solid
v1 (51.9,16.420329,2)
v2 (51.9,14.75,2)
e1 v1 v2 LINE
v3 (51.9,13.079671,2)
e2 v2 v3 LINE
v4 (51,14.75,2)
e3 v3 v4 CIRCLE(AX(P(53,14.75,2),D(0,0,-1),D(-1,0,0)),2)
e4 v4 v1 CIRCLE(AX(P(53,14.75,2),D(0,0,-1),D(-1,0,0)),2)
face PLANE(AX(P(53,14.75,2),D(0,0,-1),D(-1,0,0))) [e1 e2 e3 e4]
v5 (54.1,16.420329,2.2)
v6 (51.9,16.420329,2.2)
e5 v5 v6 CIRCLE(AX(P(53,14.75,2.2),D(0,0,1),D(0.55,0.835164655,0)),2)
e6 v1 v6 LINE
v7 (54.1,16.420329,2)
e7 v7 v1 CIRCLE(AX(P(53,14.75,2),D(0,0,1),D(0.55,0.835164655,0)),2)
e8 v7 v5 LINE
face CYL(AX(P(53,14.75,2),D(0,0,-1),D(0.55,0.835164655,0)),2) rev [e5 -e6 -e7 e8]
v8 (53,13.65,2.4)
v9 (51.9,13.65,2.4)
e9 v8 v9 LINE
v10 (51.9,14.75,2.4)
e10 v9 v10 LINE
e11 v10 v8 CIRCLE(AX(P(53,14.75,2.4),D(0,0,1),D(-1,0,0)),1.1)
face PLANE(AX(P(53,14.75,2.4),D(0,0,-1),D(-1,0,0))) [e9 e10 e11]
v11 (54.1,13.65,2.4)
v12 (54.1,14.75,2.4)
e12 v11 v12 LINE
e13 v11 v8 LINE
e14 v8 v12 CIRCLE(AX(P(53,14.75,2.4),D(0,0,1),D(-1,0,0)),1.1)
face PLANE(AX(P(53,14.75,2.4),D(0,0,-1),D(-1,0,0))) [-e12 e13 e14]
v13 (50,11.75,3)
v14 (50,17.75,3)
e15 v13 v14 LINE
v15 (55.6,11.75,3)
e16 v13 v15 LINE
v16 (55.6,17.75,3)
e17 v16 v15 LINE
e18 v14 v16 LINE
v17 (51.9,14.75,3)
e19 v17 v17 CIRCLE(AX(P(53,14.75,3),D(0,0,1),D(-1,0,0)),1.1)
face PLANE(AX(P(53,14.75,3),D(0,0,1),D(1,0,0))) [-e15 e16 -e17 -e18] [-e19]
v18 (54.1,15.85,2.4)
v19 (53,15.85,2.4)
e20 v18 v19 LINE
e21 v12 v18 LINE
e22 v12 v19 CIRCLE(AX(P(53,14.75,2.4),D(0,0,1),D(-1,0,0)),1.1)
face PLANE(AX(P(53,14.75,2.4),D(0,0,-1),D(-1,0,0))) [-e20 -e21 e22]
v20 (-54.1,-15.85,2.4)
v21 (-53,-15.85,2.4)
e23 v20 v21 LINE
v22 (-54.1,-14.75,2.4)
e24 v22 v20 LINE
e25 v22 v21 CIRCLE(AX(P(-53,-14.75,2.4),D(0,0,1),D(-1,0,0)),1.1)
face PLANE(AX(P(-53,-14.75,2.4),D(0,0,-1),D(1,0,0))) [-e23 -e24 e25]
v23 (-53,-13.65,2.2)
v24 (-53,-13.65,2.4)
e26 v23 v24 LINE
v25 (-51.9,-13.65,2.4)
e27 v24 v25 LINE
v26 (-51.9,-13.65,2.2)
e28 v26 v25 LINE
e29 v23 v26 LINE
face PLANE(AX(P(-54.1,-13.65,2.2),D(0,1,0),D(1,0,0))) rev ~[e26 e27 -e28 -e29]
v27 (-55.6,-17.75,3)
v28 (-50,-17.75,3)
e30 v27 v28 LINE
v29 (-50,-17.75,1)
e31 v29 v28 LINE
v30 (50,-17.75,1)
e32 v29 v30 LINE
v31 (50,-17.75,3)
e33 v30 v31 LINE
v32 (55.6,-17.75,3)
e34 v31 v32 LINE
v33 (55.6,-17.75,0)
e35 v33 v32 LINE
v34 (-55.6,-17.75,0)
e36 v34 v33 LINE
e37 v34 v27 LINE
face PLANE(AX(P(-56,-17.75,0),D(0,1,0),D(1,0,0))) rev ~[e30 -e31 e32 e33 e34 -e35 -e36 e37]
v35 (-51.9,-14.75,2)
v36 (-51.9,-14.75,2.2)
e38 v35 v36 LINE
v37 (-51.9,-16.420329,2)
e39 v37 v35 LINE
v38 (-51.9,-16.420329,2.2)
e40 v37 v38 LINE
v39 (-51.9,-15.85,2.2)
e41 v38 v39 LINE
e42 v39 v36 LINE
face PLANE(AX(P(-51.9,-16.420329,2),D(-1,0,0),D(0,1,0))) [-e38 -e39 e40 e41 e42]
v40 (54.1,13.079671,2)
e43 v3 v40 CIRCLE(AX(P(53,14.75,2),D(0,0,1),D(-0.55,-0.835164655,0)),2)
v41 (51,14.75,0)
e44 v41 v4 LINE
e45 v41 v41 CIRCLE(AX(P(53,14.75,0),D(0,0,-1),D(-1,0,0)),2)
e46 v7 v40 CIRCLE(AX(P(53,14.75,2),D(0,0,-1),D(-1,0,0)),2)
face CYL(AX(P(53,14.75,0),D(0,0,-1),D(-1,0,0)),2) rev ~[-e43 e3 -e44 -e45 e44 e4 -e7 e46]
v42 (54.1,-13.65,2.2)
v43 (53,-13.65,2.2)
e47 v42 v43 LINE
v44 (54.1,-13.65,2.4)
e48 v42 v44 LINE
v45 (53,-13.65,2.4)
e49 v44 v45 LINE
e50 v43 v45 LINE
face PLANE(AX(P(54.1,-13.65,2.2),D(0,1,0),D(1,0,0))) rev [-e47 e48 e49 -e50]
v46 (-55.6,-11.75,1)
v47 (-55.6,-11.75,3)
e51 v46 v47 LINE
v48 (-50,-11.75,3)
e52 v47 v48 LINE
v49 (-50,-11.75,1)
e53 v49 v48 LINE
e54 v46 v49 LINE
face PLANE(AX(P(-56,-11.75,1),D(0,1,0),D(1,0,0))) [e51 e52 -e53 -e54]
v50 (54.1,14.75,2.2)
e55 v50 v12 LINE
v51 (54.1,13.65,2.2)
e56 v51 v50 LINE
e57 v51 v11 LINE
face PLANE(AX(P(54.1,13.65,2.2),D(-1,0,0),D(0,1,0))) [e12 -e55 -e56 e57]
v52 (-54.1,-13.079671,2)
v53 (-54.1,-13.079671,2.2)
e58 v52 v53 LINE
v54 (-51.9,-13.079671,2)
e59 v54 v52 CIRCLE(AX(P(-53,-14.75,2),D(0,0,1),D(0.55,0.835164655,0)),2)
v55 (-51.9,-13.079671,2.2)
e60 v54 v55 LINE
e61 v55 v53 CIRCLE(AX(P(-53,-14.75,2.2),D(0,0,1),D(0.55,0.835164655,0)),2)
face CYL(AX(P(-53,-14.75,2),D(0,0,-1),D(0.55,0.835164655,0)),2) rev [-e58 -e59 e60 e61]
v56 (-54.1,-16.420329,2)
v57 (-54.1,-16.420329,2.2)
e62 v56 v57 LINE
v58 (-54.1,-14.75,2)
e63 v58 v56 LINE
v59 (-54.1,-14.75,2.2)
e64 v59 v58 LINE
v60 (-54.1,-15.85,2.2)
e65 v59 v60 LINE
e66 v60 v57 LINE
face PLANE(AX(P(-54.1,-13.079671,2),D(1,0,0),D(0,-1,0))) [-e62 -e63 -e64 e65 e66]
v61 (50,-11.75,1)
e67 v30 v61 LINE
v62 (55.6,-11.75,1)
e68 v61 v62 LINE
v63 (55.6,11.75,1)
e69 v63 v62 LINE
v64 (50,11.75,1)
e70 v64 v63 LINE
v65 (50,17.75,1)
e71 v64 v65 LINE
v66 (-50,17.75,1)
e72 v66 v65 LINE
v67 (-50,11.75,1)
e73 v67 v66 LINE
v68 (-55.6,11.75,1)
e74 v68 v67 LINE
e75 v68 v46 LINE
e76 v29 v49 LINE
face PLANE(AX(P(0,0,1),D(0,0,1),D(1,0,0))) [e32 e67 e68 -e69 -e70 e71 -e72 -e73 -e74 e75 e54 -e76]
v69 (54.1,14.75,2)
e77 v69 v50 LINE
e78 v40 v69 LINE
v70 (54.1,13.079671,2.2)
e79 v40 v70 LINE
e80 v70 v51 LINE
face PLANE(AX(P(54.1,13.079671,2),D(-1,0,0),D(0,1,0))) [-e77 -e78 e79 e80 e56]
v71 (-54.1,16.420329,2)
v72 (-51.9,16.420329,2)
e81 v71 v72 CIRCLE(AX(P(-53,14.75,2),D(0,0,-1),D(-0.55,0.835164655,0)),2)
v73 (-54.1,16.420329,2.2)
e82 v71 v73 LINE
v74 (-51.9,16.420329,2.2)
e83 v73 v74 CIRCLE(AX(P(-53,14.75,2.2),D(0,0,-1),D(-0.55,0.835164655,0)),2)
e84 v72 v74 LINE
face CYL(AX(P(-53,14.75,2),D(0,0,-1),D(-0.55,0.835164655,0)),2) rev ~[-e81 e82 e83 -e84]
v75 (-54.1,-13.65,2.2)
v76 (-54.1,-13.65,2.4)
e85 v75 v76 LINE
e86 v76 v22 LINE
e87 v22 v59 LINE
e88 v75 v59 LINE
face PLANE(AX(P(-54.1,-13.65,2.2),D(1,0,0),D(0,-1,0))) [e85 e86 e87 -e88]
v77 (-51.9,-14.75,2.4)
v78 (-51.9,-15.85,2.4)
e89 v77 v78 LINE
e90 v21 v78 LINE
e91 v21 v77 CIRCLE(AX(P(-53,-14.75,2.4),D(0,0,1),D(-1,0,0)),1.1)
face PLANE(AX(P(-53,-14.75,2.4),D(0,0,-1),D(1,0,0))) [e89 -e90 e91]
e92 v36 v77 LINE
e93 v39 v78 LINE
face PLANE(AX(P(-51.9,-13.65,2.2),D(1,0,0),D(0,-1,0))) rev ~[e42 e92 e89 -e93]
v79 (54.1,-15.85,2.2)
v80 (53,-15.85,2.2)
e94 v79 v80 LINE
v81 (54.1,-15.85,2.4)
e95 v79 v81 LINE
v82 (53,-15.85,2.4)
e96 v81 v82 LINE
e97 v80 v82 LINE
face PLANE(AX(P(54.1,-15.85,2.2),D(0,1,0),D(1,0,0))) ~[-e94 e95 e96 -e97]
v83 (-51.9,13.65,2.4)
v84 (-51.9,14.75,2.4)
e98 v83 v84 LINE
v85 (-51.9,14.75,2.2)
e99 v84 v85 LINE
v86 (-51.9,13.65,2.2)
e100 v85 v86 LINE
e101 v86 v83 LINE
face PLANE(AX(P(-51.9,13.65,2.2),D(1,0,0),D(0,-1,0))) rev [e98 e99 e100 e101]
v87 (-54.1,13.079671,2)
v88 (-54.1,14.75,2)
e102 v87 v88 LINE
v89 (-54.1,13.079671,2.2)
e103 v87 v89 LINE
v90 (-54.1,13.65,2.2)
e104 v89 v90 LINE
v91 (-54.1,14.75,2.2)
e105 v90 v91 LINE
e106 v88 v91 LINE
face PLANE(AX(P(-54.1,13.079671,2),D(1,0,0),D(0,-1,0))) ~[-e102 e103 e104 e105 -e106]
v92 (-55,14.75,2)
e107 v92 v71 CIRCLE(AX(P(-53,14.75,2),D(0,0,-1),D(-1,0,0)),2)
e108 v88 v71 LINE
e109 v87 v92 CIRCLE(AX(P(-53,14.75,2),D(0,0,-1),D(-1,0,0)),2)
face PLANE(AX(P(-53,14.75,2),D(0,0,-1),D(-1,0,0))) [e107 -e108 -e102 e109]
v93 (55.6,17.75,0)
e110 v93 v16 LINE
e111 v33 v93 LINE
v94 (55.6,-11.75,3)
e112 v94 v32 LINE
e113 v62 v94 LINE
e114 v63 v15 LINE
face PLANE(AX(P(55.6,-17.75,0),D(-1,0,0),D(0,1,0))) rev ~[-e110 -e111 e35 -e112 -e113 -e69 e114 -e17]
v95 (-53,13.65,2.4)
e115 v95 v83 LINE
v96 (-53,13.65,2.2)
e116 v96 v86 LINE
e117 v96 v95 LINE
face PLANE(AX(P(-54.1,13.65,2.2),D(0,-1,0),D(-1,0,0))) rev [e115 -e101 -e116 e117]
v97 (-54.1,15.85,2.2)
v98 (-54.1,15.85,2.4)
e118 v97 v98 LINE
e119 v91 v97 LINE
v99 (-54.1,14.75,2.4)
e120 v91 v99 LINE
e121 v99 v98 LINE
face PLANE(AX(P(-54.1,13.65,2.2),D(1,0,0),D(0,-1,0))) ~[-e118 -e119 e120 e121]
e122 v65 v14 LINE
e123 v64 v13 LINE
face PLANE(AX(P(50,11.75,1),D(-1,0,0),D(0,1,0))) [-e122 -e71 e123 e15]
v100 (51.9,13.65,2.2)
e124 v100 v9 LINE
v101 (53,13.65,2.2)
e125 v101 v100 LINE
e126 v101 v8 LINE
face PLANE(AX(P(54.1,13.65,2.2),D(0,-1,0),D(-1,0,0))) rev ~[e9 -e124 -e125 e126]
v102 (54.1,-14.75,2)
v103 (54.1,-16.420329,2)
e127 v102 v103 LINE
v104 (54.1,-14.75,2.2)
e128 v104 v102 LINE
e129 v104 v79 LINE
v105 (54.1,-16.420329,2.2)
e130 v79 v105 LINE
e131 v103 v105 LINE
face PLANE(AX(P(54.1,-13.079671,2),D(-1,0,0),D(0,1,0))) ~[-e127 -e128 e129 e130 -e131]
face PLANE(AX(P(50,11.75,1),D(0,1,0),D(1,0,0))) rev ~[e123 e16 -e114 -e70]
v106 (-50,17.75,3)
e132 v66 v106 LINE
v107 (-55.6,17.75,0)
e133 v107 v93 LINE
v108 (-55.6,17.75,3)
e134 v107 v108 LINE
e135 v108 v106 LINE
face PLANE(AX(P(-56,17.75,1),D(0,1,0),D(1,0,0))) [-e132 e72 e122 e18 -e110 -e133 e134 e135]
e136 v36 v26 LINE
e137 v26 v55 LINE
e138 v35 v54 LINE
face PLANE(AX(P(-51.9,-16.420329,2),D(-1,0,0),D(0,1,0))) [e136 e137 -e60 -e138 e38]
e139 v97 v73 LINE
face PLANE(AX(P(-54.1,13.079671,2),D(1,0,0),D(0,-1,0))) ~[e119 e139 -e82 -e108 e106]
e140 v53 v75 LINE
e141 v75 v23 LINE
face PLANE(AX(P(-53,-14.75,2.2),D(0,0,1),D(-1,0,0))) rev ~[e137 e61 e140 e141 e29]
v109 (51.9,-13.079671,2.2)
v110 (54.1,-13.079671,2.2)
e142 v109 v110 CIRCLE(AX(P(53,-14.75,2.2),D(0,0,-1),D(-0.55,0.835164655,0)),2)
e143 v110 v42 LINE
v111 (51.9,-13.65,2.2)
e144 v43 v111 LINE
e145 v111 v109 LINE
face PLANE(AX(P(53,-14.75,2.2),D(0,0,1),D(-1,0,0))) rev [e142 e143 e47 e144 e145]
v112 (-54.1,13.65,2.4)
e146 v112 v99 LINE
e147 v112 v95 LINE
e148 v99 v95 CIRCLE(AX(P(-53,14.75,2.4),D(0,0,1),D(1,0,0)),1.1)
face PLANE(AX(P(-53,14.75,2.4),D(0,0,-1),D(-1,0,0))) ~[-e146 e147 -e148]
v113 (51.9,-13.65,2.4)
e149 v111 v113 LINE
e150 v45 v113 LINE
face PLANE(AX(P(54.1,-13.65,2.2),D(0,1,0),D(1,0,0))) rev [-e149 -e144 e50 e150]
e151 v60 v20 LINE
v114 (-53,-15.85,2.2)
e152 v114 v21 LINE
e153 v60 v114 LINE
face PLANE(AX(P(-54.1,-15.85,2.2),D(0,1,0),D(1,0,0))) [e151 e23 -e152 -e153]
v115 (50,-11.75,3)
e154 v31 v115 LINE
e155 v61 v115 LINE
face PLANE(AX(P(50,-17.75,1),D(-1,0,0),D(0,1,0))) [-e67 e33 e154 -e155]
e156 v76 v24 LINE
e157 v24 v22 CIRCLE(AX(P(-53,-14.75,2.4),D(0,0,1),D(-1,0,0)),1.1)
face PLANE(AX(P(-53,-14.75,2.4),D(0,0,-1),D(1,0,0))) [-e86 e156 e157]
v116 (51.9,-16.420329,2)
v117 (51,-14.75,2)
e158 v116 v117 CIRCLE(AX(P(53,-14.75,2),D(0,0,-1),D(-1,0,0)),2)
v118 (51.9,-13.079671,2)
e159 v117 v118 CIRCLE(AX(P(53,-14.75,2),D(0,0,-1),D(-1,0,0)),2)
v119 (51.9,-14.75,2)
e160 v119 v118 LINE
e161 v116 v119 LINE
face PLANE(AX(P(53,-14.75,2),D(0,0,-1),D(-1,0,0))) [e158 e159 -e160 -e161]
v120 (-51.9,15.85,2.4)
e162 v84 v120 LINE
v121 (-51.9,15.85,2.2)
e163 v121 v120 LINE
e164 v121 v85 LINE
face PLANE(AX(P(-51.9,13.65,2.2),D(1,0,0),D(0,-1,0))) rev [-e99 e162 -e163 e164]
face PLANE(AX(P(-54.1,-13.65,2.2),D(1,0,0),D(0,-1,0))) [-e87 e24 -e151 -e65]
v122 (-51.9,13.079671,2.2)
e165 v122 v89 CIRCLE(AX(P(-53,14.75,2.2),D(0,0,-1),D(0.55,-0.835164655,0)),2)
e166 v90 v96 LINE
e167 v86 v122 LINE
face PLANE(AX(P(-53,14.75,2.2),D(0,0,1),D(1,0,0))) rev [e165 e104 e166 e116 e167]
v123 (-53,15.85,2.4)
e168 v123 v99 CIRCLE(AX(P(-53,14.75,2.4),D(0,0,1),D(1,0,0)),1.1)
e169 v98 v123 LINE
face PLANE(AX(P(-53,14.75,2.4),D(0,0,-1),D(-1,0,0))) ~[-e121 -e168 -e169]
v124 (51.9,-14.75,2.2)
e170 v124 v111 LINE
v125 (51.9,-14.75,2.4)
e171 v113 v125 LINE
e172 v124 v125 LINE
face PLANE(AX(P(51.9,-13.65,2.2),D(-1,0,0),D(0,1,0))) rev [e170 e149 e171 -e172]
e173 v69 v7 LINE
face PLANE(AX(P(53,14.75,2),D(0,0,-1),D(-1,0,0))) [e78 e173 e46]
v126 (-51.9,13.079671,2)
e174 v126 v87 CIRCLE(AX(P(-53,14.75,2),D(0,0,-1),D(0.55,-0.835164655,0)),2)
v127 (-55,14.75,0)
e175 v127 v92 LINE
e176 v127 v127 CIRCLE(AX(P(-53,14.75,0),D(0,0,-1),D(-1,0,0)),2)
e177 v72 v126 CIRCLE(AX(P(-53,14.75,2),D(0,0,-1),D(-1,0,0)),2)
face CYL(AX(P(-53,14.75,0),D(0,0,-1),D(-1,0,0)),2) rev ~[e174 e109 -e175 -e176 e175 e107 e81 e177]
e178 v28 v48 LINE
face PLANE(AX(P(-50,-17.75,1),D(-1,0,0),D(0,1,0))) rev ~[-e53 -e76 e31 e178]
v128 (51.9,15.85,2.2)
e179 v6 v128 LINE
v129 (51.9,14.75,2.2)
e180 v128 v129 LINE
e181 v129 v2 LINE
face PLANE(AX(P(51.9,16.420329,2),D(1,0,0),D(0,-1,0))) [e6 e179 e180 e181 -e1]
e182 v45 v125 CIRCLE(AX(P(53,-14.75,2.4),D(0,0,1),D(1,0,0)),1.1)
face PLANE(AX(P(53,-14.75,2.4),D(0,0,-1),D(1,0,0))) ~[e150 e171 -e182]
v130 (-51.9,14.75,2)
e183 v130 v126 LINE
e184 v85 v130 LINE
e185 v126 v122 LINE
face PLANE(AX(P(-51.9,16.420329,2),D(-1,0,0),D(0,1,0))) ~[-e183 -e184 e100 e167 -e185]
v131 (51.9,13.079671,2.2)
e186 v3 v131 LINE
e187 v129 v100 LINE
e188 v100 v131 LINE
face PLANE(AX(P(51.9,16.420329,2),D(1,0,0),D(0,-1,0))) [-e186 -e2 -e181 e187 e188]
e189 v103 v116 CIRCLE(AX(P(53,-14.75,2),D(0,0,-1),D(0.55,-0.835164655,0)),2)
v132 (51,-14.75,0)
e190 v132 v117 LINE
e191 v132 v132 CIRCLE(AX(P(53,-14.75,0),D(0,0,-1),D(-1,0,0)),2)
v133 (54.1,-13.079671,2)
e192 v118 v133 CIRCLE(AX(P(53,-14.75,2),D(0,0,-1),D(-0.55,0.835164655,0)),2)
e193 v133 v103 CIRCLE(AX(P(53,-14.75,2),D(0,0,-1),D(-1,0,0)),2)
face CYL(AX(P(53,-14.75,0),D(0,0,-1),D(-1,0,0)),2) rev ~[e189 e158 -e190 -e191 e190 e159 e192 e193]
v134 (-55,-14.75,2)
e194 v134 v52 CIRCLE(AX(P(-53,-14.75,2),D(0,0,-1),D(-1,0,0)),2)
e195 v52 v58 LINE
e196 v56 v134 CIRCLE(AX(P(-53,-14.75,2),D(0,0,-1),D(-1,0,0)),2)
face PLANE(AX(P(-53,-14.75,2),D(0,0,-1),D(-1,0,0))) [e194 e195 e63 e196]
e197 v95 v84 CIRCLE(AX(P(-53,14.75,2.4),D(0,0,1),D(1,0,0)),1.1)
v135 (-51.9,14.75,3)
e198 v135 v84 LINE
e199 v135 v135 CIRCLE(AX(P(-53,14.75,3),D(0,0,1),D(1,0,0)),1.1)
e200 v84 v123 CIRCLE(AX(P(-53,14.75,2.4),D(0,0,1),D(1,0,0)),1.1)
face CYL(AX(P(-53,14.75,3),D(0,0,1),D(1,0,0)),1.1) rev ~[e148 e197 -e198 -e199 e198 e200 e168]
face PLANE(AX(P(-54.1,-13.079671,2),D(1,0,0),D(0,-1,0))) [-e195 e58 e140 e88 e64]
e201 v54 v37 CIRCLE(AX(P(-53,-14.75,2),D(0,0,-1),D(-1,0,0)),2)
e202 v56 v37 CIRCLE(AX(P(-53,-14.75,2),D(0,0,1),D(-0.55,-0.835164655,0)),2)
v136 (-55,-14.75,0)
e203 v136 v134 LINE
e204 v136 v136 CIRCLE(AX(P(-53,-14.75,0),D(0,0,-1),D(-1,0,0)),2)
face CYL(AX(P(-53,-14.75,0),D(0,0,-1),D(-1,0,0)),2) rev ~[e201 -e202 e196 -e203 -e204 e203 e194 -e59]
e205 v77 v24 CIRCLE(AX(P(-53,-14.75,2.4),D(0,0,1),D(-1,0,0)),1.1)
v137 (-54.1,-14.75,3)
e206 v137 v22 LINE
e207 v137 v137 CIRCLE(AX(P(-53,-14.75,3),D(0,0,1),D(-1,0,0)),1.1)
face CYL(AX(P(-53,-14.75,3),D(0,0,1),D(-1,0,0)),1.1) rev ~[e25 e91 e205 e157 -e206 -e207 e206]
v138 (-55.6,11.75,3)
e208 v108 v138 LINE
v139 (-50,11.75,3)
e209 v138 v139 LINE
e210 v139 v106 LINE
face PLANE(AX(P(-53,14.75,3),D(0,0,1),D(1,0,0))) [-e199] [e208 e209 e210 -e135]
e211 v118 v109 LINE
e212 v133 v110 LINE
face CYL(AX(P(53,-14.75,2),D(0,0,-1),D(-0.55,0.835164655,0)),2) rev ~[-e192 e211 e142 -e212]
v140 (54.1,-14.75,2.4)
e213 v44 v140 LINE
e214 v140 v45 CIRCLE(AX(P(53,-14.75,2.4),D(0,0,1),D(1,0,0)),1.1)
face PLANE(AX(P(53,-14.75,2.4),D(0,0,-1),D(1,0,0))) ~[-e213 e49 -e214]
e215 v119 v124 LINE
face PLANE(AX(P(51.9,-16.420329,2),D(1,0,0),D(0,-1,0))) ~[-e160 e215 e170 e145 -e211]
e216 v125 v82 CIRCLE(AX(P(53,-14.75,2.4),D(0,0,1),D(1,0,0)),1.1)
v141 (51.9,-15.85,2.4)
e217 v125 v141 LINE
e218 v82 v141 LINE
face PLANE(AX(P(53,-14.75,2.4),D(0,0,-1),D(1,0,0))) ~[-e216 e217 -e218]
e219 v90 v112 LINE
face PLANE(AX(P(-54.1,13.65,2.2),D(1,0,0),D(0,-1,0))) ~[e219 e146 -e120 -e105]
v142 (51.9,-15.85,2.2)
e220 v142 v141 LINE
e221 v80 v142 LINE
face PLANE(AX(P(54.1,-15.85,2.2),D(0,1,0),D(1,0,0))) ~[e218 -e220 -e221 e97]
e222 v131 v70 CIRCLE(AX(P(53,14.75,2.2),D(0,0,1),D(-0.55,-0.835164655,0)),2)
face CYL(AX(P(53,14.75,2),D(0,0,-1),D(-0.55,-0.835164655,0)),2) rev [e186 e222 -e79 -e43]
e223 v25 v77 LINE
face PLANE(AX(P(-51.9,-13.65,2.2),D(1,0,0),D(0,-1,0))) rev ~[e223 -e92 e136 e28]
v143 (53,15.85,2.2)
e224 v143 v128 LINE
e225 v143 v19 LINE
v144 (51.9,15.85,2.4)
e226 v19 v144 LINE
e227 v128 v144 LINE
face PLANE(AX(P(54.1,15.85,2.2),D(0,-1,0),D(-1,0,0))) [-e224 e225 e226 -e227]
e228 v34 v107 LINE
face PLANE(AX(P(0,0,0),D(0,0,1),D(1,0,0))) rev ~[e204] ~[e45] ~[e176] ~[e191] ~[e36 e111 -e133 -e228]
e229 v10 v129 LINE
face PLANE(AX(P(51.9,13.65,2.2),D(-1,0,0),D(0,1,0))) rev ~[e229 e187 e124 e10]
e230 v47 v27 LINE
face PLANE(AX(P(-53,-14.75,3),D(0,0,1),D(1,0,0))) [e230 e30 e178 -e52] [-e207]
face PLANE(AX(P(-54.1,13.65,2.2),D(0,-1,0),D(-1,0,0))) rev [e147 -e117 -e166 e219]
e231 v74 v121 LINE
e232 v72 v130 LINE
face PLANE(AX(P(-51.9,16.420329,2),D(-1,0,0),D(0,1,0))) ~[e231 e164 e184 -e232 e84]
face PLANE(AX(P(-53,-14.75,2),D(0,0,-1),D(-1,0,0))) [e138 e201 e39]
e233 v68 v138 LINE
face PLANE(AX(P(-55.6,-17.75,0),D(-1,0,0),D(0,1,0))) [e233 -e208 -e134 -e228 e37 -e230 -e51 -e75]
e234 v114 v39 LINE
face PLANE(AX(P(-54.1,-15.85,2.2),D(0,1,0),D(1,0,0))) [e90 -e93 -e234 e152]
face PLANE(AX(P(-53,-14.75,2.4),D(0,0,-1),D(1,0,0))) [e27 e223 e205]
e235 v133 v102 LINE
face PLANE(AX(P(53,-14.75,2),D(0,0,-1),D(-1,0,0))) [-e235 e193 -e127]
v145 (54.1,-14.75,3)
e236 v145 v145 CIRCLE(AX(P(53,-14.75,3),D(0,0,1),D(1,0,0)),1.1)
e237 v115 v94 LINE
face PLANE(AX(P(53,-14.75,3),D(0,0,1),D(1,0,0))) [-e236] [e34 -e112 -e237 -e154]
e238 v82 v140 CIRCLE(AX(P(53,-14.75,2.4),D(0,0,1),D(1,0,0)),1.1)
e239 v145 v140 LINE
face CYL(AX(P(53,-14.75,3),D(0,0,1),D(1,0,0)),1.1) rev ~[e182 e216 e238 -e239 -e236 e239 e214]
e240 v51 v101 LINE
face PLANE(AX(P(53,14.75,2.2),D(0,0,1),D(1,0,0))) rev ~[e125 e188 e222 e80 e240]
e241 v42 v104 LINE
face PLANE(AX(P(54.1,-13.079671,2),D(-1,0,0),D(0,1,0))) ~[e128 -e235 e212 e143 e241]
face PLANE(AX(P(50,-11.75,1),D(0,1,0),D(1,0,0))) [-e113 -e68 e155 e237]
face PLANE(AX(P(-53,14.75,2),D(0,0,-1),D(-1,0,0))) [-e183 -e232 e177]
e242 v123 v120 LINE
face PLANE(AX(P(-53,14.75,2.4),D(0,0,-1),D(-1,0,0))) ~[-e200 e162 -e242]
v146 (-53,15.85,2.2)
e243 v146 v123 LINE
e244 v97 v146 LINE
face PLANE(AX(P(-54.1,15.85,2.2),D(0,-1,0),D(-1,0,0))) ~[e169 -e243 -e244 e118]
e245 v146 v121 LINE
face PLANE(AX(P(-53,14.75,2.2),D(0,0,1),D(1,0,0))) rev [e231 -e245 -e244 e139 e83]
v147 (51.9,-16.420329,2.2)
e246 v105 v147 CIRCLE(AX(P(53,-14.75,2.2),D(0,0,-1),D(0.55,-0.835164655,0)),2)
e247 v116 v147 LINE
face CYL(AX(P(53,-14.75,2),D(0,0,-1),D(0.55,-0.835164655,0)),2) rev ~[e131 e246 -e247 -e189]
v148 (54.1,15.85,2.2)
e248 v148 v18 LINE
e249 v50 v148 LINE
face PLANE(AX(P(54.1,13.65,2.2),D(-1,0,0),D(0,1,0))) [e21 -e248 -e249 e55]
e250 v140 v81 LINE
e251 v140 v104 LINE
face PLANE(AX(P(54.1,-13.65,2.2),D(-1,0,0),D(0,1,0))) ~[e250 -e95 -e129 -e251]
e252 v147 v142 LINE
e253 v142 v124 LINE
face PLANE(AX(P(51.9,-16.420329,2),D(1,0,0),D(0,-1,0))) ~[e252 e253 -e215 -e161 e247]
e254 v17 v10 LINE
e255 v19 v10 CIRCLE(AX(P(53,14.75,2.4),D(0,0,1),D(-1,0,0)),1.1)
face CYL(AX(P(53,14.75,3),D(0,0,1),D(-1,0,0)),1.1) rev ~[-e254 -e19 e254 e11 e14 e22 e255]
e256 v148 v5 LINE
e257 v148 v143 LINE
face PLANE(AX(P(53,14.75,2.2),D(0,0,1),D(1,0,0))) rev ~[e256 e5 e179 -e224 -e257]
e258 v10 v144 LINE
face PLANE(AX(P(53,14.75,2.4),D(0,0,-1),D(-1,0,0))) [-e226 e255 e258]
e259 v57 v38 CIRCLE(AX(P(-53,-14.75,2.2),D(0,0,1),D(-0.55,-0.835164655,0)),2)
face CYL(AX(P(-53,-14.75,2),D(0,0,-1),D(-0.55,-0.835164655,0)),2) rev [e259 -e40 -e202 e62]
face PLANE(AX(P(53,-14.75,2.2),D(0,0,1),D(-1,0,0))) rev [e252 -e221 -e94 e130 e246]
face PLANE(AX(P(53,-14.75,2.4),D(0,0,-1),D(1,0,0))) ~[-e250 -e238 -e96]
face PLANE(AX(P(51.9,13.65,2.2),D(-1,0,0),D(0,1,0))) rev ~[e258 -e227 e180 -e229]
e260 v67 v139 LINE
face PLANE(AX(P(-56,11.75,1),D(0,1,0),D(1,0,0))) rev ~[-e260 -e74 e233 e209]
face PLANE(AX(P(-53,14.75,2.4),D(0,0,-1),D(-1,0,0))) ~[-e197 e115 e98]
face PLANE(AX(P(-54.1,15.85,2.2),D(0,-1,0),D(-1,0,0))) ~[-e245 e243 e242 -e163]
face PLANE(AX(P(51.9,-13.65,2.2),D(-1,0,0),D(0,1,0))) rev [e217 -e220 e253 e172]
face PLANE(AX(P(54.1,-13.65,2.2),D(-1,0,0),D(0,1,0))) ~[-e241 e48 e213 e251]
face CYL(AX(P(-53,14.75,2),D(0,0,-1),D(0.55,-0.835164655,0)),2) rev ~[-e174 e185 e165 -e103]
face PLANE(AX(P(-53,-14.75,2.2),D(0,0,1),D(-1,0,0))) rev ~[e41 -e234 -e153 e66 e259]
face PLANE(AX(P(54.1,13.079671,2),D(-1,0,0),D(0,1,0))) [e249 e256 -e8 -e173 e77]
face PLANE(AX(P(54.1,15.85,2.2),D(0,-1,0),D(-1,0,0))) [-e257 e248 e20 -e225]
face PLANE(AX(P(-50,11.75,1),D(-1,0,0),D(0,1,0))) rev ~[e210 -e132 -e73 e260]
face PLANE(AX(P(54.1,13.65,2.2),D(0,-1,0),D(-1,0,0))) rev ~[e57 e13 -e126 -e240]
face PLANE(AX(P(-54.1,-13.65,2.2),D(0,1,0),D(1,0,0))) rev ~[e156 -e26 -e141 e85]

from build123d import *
from build123d.topology import SkipClean

# Parameters (mm, degrees)
SKETCH1_W               = 112
SKETCH1_H               = 35.5
BOSS_EXTRUDE1_DEPTH     = 1
SKETCH2_W               = 6
SKETCH2_H               = 6
BOSS_EXTRUDE2_DEPTH     = 2
SKETCH3_R               = 1.1
CUT_EXTRUDE1_DEPTH      = 59.822295943
SKETCH4_R               = 2
CUT_EXTRUDE2_DEPTH      = 2
CUT_EXTRUDE3_DEPTH      = 0.2
SKETCH6_W               = 2.2
SKETCH6_H               = 2.2
CUT_EXTRUDE4_DEPTH      = 0.2
MIRROR2_COPY_1_DEPTH    = 0.2
MIRROR2_COPY_2_SKETCH_W = 2.2
MIRROR2_COPY_2_SKETCH_H = 2.2
MIRROR2_COPY_2_DEPTH    = 0.2
SKETCH7_W               = 0.4
SKETCH7_H               = 35.5
CUT_EXTRUDE5_DEPTH      = 59.822295943


with BuildPart() as part:
    # Sketch1 → Boss-Extrude1 (new body)
    with BuildSketch(Plane.XY):
        Rectangle(SKETCH1_W, SKETCH1_H)
    extrude(amount=BOSS_EXTRUDE1_DEPTH)

    # Sketch2 → Boss-Extrude2 (add)
    with BuildSketch(Plane.XY.offset(1)):
        with Locations((-53, 14.75)):
            Rectangle(SKETCH2_W, SKETCH2_H)
        with Locations((-53, -14.75)):
            Rectangle(SKETCH2_W, SKETCH2_H)
        with Locations((53, -14.75)):
            Rectangle(SKETCH2_W, SKETCH2_H)
        with Locations((53, 14.75)):
            Rectangle(SKETCH2_W, SKETCH2_H)
    extrude(amount=BOSS_EXTRUDE2_DEPTH)

    # Sketch3 → Cut-Extrude1 (cut, through all)
    with BuildSketch(Plane.XY.offset(3)):
        with Locations((-53, 14.75)):
            Circle(SKETCH3_R)
        with Locations(Location((-53, -14.75, 0), (0, 0, 180))):
            Circle(SKETCH3_R)
        with Locations((53, -14.75)):
            Circle(SKETCH3_R)
        with Locations(Location((53, 14.75, 0), (0, 0, 180))):
            Circle(SKETCH3_R)
    extrude(amount=-CUT_EXTRUDE1_DEPTH, mode=Mode.SUBTRACT)

    # Sketch4 → Cut-Extrude2 (cut)
    with BuildSketch(Plane(origin=(0, 0, 0), x_dir=(-1, 0, 0), z_dir=(0, 0, -1))):
        with Locations((-53, 14.75)):
            Circle(SKETCH4_R)
        with Locations((-53, -14.75)):
            Circle(SKETCH4_R)
        with Locations((53, 14.75)):
            Circle(SKETCH4_R)
        with Locations((53, -14.75)):
            Circle(SKETCH4_R)
    extrude(amount=-CUT_EXTRUDE2_DEPTH, mode=Mode.SUBTRACT)

    # Sketch5 → Cut-Extrude3 (cut)
    with SkipClean():  # the faces are left unmerged after this step: merging them gives an invalid solid
        with BuildSketch(Plane(origin=(0, 0, 2), x_dir=(-1, 0, 0), z_dir=(0, 0, -1))):
            with BuildLine():
                Line((-54.1, 13.079670691), (-54.1, 16.420329309))
                ThreePointArc((-54.1, 16.420329309), (-53, 16.75), (-51.9, 16.420329309))
                Line((-51.9, 16.420329309), (-51.9, 13.079670691))
                ThreePointArc((-51.9, 13.079670691), (-53, 12.75), (-54.1, 13.079670691))
            make_face()
        cut_extrude3 = extrude(amount=-CUT_EXTRUDE3_DEPTH, mode=Mode.SUBTRACT)

    # Sketch6 → Cut-Extrude4 (cut)
    with SkipClean():  # the faces are left unmerged after this step: merging them gives an invalid solid
        with BuildSketch(Plane(origin=(0, 0, 2.2), x_dir=(-1, 0, 0), z_dir=(0, 0, -1))):
            with Locations((-53, 14.75)):
                Rectangle(SKETCH6_W, SKETCH6_H)
        cut_extrude4 = extrude(amount=-CUT_EXTRUDE4_DEPTH, mode=Mode.SUBTRACT)

    # Mirror1: Cut-Extrude3, Cut-Extrude4 across plane
    with SkipClean():  # the faces are left unmerged after this step: merging them gives an invalid solid
        add(cut_extrude3.mirror(Plane(origin=(0, 0, 0), x_dir=(0, 0, 1), z_dir=(1, 0, 0))), mode=Mode.SUBTRACT)
        add(cut_extrude4.mirror(Plane(origin=(0, 0, 0), x_dir=(0, 0, 1), z_dir=(1, 0, 0))), mode=Mode.SUBTRACT)

    # Mirror2: Cut-Extrude3, Cut-Extrude4 across plane
    with SkipClean():  # the faces are left unmerged after this step: merging them gives an invalid solid
        add(cut_extrude3.mirror(Plane.ZX), mode=Mode.SUBTRACT)
        add(cut_extrude4.mirror(Plane.ZX), mode=Mode.SUBTRACT)

    # Mirror2 copy 1 sketch → Mirror2 copy 1 (cut)
    with SkipClean():  # the faces are left unmerged after this step: merging them gives an invalid solid
        with BuildSketch(Plane(origin=(0, 0, 2), x_dir=(1, 0, 0), z_dir=(0, 0, -1))):
            with BuildLine():
                Line((-54.1, 13.079670691), (-54.1, 16.420329309))
                ThreePointArc((-54.1, 16.420329309), (-53, 16.75), (-51.9, 16.420329309))
                Line((-51.9, 16.420329309), (-51.9, 13.079670691))
                ThreePointArc((-51.9, 13.079670691), (-53, 12.75), (-54.1, 13.079670691))
            make_face()
        extrude(amount=-MIRROR2_COPY_1_DEPTH, mode=Mode.SUBTRACT)

    # Mirror2 copy 2 sketch → Mirror2 copy 2 (cut)
    with SkipClean():  # the faces are left unmerged after this step: merging them gives an invalid solid
        with BuildSketch(Plane(origin=(0, 0, 2.2), x_dir=(1, 0, 0), z_dir=(0, 0, -1))):
            with Locations((-53, 14.75)):
                Rectangle(MIRROR2_COPY_2_SKETCH_W, MIRROR2_COPY_2_SKETCH_H)
        extrude(amount=-MIRROR2_COPY_2_DEPTH, mode=Mode.SUBTRACT)

    # Sketch7 → Cut-Extrude5 (cut, through all)
    with SkipClean():  # the faces are left unmerged after this step: merging them gives an invalid solid
        with BuildSketch(Plane(origin=(0, 0, 0), x_dir=(-1, 0, 0), z_dir=(0, 0, -1))):
            with Locations((-55.8, 0)):
                Rectangle(SKETCH7_W, SKETCH7_H)
            with Locations((55.8, 0)):
                Rectangle(SKETCH7_W, SKETCH7_H)
        extrude(amount=-CUT_EXTRUDE5_DEPTH, mode=Mode.SUBTRACT)


solid = part.part
